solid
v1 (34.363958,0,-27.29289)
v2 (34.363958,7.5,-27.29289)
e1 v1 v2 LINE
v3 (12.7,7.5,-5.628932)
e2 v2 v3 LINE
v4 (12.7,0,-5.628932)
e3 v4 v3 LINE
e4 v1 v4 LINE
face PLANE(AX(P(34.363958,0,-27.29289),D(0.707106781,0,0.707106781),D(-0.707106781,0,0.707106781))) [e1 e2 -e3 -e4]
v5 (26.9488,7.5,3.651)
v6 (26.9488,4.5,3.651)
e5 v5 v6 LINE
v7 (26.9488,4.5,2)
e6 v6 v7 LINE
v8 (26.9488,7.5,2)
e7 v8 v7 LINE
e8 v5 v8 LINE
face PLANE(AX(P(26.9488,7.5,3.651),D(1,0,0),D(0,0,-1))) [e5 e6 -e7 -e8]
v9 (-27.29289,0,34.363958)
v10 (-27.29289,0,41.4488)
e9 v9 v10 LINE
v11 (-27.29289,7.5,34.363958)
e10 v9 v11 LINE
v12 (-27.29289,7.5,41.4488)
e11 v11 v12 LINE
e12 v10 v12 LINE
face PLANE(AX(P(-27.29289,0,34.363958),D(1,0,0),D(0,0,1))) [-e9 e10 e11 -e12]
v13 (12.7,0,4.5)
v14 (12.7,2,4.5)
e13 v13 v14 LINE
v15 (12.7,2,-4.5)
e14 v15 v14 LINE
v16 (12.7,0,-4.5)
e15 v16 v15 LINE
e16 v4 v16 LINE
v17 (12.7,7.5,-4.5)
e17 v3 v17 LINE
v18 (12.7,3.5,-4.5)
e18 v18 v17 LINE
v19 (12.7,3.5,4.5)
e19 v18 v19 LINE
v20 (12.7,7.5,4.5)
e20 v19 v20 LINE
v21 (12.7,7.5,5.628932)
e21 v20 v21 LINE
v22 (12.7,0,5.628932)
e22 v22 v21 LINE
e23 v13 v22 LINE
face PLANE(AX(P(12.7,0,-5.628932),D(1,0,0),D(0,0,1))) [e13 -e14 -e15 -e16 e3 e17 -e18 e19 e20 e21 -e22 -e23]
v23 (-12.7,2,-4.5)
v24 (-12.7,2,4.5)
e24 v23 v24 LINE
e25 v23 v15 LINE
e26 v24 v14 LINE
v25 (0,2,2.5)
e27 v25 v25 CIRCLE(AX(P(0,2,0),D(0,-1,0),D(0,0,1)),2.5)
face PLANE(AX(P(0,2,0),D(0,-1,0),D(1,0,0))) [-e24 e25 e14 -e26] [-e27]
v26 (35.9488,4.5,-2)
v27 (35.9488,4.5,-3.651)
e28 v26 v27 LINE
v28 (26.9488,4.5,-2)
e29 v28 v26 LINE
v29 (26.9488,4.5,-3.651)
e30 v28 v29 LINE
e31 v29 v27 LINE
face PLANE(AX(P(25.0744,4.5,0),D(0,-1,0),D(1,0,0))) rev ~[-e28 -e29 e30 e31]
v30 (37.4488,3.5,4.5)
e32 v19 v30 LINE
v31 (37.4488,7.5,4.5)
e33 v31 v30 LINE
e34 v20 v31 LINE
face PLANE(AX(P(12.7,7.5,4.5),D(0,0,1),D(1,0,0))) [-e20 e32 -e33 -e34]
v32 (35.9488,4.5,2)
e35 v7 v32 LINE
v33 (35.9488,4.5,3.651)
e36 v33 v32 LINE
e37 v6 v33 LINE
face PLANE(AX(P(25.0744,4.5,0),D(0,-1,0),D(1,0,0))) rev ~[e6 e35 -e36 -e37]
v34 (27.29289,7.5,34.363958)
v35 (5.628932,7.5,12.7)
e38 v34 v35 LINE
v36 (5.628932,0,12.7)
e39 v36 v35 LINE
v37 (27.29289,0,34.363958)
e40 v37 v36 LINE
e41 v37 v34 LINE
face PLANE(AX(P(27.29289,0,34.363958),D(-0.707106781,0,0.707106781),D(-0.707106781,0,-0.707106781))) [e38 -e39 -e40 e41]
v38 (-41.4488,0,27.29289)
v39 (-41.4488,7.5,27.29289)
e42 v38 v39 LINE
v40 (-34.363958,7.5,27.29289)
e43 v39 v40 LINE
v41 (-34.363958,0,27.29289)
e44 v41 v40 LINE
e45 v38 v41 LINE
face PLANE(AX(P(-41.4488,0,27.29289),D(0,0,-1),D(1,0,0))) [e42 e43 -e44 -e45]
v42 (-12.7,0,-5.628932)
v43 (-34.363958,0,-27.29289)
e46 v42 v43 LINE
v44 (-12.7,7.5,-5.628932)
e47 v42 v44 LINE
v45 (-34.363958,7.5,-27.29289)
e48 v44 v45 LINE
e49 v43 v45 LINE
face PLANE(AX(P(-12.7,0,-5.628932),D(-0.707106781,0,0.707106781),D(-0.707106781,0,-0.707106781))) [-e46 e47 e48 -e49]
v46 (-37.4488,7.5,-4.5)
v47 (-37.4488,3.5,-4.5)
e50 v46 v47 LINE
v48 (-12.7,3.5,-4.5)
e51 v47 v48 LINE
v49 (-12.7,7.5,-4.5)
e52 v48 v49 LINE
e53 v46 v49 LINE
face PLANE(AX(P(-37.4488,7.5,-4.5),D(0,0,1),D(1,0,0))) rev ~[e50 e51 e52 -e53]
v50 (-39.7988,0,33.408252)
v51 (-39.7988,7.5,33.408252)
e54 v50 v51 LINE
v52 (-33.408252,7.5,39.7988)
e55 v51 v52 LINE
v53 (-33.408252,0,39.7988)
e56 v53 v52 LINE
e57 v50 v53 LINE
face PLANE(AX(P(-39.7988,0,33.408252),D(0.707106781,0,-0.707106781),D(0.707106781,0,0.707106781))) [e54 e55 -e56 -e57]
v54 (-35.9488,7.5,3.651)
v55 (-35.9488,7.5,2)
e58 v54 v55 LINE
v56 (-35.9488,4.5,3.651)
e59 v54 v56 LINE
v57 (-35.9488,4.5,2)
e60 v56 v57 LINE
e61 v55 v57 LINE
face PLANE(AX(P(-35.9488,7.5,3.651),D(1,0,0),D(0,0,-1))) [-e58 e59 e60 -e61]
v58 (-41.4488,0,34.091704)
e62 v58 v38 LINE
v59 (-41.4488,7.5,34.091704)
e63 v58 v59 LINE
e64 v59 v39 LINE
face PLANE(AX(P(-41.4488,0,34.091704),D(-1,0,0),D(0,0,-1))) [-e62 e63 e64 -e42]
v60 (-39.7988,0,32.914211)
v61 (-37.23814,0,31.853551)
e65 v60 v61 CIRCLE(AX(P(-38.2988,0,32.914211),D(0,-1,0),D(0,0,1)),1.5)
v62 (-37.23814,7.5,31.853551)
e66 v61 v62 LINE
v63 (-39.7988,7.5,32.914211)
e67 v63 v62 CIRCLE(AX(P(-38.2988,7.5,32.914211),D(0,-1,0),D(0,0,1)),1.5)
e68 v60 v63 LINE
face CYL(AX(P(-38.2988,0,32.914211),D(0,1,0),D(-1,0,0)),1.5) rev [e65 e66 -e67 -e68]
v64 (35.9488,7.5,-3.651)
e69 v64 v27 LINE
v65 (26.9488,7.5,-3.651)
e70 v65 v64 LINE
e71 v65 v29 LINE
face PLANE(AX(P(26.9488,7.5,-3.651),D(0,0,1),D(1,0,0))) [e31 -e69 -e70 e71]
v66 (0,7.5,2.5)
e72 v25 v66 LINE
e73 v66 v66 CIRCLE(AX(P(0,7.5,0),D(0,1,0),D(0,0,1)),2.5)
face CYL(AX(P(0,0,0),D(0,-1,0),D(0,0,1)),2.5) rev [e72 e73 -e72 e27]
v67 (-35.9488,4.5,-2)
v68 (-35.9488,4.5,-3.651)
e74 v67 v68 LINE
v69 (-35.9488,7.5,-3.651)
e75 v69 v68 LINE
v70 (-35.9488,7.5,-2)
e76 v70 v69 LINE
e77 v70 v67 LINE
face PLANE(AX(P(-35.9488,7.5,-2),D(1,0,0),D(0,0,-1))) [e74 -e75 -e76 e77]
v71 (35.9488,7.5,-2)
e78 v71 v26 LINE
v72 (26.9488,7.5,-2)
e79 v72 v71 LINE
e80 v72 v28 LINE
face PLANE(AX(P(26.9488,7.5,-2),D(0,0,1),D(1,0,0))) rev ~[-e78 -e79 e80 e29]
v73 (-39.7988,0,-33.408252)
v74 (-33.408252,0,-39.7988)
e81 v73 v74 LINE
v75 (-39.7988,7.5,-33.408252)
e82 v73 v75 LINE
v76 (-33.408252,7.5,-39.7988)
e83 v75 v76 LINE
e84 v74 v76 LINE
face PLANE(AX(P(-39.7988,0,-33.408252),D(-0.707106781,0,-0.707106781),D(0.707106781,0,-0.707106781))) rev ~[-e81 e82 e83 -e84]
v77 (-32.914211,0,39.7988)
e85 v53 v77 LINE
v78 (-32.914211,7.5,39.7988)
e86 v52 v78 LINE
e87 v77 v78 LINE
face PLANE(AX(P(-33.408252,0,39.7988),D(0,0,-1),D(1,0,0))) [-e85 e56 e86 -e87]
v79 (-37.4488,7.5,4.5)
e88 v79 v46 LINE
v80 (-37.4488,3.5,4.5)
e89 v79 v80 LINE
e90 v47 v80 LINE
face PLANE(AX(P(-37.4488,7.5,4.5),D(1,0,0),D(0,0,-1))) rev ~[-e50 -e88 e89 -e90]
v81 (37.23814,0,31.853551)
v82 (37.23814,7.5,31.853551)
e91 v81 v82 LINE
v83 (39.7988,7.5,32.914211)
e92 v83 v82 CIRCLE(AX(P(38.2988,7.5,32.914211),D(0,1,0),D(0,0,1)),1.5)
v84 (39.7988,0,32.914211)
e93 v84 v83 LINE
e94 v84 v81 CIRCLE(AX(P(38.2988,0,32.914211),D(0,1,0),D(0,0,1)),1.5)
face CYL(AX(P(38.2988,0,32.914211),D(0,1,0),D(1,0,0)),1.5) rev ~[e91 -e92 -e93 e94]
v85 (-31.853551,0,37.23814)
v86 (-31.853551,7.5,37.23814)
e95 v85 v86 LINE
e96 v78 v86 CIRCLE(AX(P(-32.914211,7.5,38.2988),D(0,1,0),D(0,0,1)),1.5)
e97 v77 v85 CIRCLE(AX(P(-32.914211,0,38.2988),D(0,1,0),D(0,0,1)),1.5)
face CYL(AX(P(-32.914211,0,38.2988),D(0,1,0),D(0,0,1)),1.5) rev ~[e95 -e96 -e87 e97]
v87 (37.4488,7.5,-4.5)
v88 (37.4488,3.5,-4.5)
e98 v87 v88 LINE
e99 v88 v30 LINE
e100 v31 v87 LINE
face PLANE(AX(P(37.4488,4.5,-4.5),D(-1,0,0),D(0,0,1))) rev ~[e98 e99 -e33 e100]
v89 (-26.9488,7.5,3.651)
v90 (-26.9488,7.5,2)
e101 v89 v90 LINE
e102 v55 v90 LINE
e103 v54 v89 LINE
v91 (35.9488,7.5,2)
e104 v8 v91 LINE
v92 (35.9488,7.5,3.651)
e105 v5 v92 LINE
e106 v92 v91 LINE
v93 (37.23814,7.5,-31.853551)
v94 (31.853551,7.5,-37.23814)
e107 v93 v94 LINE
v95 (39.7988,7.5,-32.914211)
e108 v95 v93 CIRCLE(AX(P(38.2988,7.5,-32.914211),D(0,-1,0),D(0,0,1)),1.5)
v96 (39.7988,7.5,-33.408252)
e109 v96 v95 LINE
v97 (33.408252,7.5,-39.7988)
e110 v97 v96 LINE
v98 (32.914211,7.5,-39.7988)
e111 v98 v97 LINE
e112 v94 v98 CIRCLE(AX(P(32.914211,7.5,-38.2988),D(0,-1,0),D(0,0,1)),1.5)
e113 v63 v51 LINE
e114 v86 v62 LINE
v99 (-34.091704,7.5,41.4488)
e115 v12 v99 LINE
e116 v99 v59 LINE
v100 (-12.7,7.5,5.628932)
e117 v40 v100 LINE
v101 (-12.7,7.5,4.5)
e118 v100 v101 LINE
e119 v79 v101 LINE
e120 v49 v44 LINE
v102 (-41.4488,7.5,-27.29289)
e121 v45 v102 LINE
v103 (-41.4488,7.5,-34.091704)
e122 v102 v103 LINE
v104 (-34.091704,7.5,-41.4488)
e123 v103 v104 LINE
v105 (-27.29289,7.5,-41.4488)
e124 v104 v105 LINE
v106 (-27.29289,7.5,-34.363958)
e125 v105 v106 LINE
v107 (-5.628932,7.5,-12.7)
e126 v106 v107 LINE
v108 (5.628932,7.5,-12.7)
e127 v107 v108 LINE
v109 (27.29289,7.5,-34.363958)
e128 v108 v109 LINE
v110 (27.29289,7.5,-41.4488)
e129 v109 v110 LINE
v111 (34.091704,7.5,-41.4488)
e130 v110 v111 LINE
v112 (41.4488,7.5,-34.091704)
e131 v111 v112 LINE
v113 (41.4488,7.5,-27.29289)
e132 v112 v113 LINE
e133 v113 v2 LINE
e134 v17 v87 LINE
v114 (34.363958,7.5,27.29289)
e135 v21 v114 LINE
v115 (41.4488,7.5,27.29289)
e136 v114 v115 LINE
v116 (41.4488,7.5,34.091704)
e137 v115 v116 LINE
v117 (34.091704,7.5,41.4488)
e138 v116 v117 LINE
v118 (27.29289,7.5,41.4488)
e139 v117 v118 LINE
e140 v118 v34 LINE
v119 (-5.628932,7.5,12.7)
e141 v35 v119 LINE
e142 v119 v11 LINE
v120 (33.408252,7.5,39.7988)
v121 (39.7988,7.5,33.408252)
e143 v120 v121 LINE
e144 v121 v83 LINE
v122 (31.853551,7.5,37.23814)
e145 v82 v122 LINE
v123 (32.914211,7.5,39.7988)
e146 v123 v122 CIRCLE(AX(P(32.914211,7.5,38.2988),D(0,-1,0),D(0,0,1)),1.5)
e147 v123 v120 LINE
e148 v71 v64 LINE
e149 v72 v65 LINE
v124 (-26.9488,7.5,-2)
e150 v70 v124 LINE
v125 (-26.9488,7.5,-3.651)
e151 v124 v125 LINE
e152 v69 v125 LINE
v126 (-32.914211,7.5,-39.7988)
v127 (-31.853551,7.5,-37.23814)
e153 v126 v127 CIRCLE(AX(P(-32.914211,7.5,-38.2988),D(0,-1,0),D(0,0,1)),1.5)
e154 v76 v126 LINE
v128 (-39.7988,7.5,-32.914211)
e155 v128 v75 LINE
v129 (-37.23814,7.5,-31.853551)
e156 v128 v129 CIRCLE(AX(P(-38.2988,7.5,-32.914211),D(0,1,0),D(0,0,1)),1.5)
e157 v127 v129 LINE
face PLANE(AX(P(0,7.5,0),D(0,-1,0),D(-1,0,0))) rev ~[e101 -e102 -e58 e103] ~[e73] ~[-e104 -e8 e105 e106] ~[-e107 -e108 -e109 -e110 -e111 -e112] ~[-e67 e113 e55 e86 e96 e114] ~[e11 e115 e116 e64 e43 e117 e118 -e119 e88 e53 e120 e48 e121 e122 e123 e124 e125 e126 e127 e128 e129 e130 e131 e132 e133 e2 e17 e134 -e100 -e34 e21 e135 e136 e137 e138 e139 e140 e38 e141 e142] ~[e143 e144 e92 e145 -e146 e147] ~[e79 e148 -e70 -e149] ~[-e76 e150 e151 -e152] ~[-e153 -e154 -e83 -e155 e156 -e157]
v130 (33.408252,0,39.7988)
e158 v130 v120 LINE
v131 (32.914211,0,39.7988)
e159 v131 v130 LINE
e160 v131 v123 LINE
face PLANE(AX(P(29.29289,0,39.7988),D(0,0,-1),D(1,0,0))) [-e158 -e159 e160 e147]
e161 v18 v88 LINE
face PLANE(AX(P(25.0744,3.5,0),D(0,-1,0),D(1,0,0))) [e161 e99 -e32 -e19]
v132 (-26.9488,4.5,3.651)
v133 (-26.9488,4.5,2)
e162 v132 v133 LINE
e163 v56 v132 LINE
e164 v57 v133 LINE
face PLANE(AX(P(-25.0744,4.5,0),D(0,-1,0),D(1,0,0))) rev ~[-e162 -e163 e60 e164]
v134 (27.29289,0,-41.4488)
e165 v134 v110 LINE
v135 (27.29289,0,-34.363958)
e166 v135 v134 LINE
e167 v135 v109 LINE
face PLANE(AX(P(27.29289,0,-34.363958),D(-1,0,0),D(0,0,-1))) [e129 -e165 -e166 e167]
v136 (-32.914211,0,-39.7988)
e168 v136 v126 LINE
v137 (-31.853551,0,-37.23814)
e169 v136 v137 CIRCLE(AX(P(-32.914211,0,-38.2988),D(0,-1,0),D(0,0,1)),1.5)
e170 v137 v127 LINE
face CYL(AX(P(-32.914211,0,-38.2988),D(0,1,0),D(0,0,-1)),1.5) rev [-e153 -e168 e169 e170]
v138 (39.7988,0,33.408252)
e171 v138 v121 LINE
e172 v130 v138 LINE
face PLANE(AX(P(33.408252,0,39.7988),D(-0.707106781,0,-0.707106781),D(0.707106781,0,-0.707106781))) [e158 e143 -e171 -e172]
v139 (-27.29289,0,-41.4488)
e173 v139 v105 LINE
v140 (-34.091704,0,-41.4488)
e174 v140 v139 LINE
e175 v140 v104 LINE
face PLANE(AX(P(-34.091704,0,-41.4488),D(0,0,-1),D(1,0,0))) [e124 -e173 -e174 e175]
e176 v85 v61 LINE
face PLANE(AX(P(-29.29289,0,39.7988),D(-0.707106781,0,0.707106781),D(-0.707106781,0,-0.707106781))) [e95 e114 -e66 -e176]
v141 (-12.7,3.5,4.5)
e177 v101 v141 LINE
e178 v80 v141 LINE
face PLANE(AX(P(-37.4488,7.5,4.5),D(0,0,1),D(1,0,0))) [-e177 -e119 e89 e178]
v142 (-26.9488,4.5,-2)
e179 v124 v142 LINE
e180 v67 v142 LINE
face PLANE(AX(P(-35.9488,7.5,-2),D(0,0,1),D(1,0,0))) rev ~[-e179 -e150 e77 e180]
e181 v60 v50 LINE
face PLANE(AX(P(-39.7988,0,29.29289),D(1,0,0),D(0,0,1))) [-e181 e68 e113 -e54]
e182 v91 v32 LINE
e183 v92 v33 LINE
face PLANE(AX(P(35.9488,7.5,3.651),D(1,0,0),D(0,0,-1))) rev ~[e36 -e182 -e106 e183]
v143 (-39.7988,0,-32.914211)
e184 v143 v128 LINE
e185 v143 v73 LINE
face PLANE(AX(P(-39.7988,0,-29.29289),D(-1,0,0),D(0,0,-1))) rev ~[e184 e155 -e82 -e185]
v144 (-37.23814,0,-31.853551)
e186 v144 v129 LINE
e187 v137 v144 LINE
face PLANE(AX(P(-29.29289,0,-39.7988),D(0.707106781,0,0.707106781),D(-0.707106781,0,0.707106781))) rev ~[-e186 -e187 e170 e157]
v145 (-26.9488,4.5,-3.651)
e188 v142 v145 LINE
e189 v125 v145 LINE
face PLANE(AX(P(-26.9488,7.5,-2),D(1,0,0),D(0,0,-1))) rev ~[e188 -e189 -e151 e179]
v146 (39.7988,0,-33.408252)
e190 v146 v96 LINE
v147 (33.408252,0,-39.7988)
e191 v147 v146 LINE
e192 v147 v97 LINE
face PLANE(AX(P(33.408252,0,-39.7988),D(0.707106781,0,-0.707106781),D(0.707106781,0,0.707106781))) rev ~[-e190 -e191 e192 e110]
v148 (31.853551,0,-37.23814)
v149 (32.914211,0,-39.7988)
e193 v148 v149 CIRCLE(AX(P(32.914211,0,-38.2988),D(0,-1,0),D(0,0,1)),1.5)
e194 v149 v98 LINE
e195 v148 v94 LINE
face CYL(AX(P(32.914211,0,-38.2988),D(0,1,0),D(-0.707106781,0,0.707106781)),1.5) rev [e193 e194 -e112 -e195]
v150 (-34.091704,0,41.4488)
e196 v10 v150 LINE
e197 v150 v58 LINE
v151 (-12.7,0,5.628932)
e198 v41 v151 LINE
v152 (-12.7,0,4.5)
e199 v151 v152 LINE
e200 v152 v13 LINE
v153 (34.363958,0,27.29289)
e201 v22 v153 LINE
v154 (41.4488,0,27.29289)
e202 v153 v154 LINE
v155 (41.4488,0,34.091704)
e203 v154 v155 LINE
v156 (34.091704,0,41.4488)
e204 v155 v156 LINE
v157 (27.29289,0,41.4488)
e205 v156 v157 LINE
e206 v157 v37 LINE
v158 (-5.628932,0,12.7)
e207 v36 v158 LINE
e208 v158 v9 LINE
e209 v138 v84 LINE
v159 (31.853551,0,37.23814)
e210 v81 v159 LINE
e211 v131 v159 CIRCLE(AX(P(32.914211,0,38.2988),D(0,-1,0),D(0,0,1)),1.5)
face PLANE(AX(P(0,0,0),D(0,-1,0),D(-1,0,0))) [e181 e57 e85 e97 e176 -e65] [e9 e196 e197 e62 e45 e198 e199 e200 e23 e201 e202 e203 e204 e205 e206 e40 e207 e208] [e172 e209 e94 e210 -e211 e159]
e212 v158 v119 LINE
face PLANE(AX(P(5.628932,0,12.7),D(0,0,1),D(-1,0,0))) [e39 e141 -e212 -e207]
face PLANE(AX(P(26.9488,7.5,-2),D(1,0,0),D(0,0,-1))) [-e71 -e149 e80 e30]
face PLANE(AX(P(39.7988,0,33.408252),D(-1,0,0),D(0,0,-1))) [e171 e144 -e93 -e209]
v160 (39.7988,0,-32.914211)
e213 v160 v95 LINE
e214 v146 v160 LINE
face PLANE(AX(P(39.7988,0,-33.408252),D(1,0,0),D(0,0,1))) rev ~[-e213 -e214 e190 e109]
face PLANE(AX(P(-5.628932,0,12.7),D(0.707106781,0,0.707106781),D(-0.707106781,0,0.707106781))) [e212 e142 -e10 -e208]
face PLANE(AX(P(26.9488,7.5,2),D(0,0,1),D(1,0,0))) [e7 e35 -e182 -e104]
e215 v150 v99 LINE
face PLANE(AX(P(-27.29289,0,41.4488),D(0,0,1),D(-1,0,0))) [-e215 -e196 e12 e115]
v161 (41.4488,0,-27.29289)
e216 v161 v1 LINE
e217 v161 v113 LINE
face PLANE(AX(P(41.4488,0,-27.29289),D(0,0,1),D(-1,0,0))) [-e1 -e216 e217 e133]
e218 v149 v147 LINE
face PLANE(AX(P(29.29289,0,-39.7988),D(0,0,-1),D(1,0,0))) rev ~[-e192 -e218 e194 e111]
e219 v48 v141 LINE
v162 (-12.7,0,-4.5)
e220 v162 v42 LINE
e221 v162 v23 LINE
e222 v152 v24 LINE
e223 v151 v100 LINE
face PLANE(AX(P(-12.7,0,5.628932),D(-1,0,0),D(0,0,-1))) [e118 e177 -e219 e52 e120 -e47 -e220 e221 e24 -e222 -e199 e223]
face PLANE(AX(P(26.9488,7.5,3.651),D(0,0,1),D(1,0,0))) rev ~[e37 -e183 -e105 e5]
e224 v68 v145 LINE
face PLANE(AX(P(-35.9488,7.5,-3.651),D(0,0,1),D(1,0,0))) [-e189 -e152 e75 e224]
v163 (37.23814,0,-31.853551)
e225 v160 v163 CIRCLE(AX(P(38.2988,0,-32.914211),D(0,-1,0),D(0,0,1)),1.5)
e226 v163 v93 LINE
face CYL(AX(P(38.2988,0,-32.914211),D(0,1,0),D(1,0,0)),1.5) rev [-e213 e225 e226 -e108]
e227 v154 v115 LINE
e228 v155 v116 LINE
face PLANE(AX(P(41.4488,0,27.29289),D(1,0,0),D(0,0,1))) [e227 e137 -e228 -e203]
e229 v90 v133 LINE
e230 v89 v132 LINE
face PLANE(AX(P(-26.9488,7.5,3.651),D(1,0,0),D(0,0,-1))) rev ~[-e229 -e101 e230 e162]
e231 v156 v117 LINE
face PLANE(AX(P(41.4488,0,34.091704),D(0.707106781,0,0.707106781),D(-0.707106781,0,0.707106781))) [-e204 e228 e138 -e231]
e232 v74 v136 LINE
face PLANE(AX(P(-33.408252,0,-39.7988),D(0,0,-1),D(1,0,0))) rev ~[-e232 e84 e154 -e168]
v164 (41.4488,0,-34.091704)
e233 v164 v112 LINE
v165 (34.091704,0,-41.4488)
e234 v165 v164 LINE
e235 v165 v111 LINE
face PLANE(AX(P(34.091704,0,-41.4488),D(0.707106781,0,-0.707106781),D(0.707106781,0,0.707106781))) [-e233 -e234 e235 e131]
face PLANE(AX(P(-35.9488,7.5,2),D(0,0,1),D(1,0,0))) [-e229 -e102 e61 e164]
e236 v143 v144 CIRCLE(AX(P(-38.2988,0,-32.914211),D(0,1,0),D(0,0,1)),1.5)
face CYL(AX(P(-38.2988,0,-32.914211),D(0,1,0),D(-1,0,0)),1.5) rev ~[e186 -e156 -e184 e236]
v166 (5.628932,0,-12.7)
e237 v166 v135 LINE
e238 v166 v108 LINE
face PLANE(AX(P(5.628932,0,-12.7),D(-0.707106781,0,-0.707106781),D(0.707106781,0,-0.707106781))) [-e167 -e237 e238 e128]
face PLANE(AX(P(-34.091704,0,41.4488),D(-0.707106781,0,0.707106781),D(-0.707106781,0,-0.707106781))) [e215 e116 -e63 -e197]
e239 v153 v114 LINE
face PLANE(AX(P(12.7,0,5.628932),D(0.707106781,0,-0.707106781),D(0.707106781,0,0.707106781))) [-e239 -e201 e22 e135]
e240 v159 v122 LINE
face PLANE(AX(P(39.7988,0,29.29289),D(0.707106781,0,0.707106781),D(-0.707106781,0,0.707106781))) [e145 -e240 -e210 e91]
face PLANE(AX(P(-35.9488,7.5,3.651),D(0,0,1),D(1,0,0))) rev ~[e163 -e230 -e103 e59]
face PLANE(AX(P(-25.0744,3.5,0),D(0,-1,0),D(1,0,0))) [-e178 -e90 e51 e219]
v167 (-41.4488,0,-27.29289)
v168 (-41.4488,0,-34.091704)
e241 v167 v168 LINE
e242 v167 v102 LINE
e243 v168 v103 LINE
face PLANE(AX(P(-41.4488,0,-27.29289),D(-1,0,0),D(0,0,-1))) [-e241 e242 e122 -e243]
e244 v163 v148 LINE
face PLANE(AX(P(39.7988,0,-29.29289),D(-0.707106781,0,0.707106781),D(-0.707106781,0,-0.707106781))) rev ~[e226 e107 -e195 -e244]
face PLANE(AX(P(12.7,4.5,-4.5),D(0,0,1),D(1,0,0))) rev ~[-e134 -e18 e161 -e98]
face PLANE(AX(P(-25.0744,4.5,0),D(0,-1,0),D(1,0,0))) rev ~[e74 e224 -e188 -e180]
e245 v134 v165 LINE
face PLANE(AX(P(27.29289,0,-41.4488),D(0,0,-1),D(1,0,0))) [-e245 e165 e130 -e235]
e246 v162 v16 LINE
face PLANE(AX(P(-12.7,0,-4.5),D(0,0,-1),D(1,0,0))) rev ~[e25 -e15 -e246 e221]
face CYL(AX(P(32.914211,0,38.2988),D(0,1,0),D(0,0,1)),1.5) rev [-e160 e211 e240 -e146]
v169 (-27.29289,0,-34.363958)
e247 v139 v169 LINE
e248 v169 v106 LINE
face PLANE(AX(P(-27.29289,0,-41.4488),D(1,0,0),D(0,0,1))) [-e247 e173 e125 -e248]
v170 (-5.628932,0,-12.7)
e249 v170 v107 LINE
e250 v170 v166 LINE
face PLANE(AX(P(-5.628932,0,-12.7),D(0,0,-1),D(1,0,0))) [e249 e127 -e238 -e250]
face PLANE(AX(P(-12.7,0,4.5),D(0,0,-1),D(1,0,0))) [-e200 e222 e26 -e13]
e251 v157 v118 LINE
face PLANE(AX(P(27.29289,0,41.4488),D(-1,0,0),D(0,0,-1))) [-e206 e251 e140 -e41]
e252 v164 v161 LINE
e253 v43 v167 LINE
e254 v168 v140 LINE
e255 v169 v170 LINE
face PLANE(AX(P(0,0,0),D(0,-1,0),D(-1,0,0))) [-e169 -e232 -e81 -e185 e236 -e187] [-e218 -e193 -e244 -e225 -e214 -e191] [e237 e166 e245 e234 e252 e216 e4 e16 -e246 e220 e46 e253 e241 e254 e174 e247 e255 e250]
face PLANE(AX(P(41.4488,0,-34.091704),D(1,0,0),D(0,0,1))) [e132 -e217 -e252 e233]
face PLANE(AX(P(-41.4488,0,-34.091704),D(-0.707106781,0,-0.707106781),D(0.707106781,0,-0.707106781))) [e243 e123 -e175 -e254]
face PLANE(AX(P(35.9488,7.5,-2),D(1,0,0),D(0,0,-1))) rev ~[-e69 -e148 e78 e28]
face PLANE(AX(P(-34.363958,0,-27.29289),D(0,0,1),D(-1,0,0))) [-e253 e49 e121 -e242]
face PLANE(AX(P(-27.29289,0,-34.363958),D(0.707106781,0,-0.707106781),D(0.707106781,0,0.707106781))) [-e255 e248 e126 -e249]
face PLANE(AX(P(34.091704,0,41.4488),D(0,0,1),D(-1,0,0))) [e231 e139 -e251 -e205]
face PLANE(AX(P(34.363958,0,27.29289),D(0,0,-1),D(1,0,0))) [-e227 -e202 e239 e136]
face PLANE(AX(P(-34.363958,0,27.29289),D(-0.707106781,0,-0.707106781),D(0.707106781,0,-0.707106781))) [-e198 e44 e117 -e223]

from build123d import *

# Parameters (mm, degrees)
SKETCH1_R           = 2.5
BOSS_EXTRUDE1_DEPTH = 7.5
FILLET3_R           = 1.5
SKETCH3_W           = 25.4
SKETCH3_H           = 9
CUT_EXTRUDE1_DEPTH  = 2
SKETCH2_W           = 24.748800006
SKETCH2_H           = 9
SKETCH2_W_2         = 9
SKETCH2_H_2         = 1.651
BOSS_EXTRUDE3_DEPTH = 3
SKETCH4_W           = 24.748800006
SKETCH4_H           = 9
BOSS_EXTRUDE4_DEPTH = 1


with BuildPart() as part:
    # Sketch1 → Boss-Extrude1 (new body)
    with BuildSketch(Plane(origin=(0, 0, 0), x_dir=(1, 0, 0), z_dir=(0, 1, 0))):
        Polygon((-41.448800006, 34.091704203), (-34.091704203, 41.448800006), (-27.292890359, 41.448800006), (-27.292890359, 34.363958171), (-5.628932188, 12.7), (5.628932188, 12.7), (27.292890359, 34.363958171), (27.292890359, 41.448800006), (34.091704203, 41.448800006), (41.448800006, 34.091704203), (41.448800006, 27.292890359), (34.363958171, 27.292890359), (12.7, 5.628932188), (12.7, -5.628932188), (34.363958171, -27.292890359), (41.448800006, -27.292890359), (41.448800006, -34.091704203), (34.091704203, -41.448800006), (27.292890359, -41.448800006), (27.292890359, -34.363958171), (5.628932188, -12.7), (-5.628932188, -12.7), (-27.292890359, -34.363958171), (-27.292890359, -41.448800006), (-34.091704203, -41.448800006), (-41.448800006, -34.091704203), (-41.448800006, -27.292890359), (-34.363958171, -27.292890359), (-12.7, -5.628932188), (-12.7, 5.628932188), (-34.363958171, 27.292890359), (-41.448800006, 27.292890359), align=None)
        with Locations(Location((0, 0, 0), (0, 0, 270))):
            Circle(SKETCH1_R, mode=Mode.SUBTRACT)
        Polygon((-39.798800006, 33.408251825), (-33.408251825, 39.798800006), (-29.292890359, 39.798800006), (-39.798800006, 29.292890359), align=None, mode=Mode.SUBTRACT)
        Polygon((-33.408251825, -39.798800006), (-29.292890359, -39.798800006), (-39.798800006, -29.292890359), (-39.798800006, -33.408251825), align=None, mode=Mode.SUBTRACT)
        Polygon((39.798800006, -33.408251825), (39.798800006, -29.292890359), (29.292890359, -39.798800006), (33.408251825, -39.798800006), align=None, mode=Mode.SUBTRACT)
        Polygon((33.408251825, 39.798800006), (39.798800006, 33.408251825), (39.798800006, 29.292890359), (29.292890359, 39.798800006), align=None, mode=Mode.SUBTRACT)
    extrude(amount=BOSS_EXTRUDE1_DEPTH)

    # Fillet3
    fillet3_edges = [part.edges().sort_by_distance(p)[0] for p in [
        (39.798800006, 3.75, 29.292890359),
        (29.292890359, 3.75, 39.798800006),
        (-29.292890359, 3.75, 39.798800006),
        (-39.798800006, 3.75, 29.292890359),
        (-39.798800006, 3.75, -29.292890359),
        (-29.292890359, 3.75, -39.798800006),
        (29.292890359, 3.75, -39.798800006),
        (39.798800006, 3.75, -29.292890359),
    ]]
    fillet(fillet3_edges, radius=FILLET3_R)

    # Sketch3 → Cut-Extrude1 (cut)
    with BuildSketch(Plane.XZ):
        Rectangle(SKETCH3_W, SKETCH3_H)
    extrude(amount=-CUT_EXTRUDE1_DEPTH, mode=Mode.SUBTRACT)

    # Sketch2 → Boss-Extrude3 (add)
    # profile 1 of 2: a face of its own
    with BuildSketch(Plane(origin=(0, 7.5, 0), x_dir=(1, 0, 0), z_dir=(0, 1, 0))):
        with Locations((25.074400003, 0)):
            Rectangle(SKETCH2_W, SKETCH2_H)
        with Locations((31.448800006, 2.8255)):
            Rectangle(SKETCH2_W_2, SKETCH2_H_2, mode=Mode.SUBTRACT)
        with Locations((31.448800006, -2.8255)):
            Rectangle(SKETCH2_W_2, SKETCH2_H_2, mode=Mode.SUBTRACT)
    # profile 2 of 2: a face of its own
    with BuildSketch(Plane(origin=(0, 7.5, 0), x_dir=(1, 0, 0), z_dir=(0, 1, 0))):
        with Locations((-25.074400003, 0)):
            Rectangle(SKETCH2_W, SKETCH2_H)
        with Locations((-31.448800006, 2.8255)):
            Rectangle(SKETCH2_W_2, SKETCH2_H_2, mode=Mode.SUBTRACT)
        with Locations((-31.448800006, -2.8255)):
            Rectangle(SKETCH2_W_2, SKETCH2_H_2, mode=Mode.SUBTRACT)
    extrude(amount=-BOSS_EXTRUDE3_DEPTH)

    # Sketch4 → Boss-Extrude4 (add)
    with BuildSketch(Plane.XZ.offset(-4.5)):
        with Locations((25.074400003, 0)):
            Rectangle(SKETCH4_W, SKETCH4_H)
        with Locations((-25.074400003, 0)):
            Rectangle(SKETCH4_W, SKETCH4_H)
    extrude(amount=BOSS_EXTRUDE4_DEPTH)


solid = part.part
